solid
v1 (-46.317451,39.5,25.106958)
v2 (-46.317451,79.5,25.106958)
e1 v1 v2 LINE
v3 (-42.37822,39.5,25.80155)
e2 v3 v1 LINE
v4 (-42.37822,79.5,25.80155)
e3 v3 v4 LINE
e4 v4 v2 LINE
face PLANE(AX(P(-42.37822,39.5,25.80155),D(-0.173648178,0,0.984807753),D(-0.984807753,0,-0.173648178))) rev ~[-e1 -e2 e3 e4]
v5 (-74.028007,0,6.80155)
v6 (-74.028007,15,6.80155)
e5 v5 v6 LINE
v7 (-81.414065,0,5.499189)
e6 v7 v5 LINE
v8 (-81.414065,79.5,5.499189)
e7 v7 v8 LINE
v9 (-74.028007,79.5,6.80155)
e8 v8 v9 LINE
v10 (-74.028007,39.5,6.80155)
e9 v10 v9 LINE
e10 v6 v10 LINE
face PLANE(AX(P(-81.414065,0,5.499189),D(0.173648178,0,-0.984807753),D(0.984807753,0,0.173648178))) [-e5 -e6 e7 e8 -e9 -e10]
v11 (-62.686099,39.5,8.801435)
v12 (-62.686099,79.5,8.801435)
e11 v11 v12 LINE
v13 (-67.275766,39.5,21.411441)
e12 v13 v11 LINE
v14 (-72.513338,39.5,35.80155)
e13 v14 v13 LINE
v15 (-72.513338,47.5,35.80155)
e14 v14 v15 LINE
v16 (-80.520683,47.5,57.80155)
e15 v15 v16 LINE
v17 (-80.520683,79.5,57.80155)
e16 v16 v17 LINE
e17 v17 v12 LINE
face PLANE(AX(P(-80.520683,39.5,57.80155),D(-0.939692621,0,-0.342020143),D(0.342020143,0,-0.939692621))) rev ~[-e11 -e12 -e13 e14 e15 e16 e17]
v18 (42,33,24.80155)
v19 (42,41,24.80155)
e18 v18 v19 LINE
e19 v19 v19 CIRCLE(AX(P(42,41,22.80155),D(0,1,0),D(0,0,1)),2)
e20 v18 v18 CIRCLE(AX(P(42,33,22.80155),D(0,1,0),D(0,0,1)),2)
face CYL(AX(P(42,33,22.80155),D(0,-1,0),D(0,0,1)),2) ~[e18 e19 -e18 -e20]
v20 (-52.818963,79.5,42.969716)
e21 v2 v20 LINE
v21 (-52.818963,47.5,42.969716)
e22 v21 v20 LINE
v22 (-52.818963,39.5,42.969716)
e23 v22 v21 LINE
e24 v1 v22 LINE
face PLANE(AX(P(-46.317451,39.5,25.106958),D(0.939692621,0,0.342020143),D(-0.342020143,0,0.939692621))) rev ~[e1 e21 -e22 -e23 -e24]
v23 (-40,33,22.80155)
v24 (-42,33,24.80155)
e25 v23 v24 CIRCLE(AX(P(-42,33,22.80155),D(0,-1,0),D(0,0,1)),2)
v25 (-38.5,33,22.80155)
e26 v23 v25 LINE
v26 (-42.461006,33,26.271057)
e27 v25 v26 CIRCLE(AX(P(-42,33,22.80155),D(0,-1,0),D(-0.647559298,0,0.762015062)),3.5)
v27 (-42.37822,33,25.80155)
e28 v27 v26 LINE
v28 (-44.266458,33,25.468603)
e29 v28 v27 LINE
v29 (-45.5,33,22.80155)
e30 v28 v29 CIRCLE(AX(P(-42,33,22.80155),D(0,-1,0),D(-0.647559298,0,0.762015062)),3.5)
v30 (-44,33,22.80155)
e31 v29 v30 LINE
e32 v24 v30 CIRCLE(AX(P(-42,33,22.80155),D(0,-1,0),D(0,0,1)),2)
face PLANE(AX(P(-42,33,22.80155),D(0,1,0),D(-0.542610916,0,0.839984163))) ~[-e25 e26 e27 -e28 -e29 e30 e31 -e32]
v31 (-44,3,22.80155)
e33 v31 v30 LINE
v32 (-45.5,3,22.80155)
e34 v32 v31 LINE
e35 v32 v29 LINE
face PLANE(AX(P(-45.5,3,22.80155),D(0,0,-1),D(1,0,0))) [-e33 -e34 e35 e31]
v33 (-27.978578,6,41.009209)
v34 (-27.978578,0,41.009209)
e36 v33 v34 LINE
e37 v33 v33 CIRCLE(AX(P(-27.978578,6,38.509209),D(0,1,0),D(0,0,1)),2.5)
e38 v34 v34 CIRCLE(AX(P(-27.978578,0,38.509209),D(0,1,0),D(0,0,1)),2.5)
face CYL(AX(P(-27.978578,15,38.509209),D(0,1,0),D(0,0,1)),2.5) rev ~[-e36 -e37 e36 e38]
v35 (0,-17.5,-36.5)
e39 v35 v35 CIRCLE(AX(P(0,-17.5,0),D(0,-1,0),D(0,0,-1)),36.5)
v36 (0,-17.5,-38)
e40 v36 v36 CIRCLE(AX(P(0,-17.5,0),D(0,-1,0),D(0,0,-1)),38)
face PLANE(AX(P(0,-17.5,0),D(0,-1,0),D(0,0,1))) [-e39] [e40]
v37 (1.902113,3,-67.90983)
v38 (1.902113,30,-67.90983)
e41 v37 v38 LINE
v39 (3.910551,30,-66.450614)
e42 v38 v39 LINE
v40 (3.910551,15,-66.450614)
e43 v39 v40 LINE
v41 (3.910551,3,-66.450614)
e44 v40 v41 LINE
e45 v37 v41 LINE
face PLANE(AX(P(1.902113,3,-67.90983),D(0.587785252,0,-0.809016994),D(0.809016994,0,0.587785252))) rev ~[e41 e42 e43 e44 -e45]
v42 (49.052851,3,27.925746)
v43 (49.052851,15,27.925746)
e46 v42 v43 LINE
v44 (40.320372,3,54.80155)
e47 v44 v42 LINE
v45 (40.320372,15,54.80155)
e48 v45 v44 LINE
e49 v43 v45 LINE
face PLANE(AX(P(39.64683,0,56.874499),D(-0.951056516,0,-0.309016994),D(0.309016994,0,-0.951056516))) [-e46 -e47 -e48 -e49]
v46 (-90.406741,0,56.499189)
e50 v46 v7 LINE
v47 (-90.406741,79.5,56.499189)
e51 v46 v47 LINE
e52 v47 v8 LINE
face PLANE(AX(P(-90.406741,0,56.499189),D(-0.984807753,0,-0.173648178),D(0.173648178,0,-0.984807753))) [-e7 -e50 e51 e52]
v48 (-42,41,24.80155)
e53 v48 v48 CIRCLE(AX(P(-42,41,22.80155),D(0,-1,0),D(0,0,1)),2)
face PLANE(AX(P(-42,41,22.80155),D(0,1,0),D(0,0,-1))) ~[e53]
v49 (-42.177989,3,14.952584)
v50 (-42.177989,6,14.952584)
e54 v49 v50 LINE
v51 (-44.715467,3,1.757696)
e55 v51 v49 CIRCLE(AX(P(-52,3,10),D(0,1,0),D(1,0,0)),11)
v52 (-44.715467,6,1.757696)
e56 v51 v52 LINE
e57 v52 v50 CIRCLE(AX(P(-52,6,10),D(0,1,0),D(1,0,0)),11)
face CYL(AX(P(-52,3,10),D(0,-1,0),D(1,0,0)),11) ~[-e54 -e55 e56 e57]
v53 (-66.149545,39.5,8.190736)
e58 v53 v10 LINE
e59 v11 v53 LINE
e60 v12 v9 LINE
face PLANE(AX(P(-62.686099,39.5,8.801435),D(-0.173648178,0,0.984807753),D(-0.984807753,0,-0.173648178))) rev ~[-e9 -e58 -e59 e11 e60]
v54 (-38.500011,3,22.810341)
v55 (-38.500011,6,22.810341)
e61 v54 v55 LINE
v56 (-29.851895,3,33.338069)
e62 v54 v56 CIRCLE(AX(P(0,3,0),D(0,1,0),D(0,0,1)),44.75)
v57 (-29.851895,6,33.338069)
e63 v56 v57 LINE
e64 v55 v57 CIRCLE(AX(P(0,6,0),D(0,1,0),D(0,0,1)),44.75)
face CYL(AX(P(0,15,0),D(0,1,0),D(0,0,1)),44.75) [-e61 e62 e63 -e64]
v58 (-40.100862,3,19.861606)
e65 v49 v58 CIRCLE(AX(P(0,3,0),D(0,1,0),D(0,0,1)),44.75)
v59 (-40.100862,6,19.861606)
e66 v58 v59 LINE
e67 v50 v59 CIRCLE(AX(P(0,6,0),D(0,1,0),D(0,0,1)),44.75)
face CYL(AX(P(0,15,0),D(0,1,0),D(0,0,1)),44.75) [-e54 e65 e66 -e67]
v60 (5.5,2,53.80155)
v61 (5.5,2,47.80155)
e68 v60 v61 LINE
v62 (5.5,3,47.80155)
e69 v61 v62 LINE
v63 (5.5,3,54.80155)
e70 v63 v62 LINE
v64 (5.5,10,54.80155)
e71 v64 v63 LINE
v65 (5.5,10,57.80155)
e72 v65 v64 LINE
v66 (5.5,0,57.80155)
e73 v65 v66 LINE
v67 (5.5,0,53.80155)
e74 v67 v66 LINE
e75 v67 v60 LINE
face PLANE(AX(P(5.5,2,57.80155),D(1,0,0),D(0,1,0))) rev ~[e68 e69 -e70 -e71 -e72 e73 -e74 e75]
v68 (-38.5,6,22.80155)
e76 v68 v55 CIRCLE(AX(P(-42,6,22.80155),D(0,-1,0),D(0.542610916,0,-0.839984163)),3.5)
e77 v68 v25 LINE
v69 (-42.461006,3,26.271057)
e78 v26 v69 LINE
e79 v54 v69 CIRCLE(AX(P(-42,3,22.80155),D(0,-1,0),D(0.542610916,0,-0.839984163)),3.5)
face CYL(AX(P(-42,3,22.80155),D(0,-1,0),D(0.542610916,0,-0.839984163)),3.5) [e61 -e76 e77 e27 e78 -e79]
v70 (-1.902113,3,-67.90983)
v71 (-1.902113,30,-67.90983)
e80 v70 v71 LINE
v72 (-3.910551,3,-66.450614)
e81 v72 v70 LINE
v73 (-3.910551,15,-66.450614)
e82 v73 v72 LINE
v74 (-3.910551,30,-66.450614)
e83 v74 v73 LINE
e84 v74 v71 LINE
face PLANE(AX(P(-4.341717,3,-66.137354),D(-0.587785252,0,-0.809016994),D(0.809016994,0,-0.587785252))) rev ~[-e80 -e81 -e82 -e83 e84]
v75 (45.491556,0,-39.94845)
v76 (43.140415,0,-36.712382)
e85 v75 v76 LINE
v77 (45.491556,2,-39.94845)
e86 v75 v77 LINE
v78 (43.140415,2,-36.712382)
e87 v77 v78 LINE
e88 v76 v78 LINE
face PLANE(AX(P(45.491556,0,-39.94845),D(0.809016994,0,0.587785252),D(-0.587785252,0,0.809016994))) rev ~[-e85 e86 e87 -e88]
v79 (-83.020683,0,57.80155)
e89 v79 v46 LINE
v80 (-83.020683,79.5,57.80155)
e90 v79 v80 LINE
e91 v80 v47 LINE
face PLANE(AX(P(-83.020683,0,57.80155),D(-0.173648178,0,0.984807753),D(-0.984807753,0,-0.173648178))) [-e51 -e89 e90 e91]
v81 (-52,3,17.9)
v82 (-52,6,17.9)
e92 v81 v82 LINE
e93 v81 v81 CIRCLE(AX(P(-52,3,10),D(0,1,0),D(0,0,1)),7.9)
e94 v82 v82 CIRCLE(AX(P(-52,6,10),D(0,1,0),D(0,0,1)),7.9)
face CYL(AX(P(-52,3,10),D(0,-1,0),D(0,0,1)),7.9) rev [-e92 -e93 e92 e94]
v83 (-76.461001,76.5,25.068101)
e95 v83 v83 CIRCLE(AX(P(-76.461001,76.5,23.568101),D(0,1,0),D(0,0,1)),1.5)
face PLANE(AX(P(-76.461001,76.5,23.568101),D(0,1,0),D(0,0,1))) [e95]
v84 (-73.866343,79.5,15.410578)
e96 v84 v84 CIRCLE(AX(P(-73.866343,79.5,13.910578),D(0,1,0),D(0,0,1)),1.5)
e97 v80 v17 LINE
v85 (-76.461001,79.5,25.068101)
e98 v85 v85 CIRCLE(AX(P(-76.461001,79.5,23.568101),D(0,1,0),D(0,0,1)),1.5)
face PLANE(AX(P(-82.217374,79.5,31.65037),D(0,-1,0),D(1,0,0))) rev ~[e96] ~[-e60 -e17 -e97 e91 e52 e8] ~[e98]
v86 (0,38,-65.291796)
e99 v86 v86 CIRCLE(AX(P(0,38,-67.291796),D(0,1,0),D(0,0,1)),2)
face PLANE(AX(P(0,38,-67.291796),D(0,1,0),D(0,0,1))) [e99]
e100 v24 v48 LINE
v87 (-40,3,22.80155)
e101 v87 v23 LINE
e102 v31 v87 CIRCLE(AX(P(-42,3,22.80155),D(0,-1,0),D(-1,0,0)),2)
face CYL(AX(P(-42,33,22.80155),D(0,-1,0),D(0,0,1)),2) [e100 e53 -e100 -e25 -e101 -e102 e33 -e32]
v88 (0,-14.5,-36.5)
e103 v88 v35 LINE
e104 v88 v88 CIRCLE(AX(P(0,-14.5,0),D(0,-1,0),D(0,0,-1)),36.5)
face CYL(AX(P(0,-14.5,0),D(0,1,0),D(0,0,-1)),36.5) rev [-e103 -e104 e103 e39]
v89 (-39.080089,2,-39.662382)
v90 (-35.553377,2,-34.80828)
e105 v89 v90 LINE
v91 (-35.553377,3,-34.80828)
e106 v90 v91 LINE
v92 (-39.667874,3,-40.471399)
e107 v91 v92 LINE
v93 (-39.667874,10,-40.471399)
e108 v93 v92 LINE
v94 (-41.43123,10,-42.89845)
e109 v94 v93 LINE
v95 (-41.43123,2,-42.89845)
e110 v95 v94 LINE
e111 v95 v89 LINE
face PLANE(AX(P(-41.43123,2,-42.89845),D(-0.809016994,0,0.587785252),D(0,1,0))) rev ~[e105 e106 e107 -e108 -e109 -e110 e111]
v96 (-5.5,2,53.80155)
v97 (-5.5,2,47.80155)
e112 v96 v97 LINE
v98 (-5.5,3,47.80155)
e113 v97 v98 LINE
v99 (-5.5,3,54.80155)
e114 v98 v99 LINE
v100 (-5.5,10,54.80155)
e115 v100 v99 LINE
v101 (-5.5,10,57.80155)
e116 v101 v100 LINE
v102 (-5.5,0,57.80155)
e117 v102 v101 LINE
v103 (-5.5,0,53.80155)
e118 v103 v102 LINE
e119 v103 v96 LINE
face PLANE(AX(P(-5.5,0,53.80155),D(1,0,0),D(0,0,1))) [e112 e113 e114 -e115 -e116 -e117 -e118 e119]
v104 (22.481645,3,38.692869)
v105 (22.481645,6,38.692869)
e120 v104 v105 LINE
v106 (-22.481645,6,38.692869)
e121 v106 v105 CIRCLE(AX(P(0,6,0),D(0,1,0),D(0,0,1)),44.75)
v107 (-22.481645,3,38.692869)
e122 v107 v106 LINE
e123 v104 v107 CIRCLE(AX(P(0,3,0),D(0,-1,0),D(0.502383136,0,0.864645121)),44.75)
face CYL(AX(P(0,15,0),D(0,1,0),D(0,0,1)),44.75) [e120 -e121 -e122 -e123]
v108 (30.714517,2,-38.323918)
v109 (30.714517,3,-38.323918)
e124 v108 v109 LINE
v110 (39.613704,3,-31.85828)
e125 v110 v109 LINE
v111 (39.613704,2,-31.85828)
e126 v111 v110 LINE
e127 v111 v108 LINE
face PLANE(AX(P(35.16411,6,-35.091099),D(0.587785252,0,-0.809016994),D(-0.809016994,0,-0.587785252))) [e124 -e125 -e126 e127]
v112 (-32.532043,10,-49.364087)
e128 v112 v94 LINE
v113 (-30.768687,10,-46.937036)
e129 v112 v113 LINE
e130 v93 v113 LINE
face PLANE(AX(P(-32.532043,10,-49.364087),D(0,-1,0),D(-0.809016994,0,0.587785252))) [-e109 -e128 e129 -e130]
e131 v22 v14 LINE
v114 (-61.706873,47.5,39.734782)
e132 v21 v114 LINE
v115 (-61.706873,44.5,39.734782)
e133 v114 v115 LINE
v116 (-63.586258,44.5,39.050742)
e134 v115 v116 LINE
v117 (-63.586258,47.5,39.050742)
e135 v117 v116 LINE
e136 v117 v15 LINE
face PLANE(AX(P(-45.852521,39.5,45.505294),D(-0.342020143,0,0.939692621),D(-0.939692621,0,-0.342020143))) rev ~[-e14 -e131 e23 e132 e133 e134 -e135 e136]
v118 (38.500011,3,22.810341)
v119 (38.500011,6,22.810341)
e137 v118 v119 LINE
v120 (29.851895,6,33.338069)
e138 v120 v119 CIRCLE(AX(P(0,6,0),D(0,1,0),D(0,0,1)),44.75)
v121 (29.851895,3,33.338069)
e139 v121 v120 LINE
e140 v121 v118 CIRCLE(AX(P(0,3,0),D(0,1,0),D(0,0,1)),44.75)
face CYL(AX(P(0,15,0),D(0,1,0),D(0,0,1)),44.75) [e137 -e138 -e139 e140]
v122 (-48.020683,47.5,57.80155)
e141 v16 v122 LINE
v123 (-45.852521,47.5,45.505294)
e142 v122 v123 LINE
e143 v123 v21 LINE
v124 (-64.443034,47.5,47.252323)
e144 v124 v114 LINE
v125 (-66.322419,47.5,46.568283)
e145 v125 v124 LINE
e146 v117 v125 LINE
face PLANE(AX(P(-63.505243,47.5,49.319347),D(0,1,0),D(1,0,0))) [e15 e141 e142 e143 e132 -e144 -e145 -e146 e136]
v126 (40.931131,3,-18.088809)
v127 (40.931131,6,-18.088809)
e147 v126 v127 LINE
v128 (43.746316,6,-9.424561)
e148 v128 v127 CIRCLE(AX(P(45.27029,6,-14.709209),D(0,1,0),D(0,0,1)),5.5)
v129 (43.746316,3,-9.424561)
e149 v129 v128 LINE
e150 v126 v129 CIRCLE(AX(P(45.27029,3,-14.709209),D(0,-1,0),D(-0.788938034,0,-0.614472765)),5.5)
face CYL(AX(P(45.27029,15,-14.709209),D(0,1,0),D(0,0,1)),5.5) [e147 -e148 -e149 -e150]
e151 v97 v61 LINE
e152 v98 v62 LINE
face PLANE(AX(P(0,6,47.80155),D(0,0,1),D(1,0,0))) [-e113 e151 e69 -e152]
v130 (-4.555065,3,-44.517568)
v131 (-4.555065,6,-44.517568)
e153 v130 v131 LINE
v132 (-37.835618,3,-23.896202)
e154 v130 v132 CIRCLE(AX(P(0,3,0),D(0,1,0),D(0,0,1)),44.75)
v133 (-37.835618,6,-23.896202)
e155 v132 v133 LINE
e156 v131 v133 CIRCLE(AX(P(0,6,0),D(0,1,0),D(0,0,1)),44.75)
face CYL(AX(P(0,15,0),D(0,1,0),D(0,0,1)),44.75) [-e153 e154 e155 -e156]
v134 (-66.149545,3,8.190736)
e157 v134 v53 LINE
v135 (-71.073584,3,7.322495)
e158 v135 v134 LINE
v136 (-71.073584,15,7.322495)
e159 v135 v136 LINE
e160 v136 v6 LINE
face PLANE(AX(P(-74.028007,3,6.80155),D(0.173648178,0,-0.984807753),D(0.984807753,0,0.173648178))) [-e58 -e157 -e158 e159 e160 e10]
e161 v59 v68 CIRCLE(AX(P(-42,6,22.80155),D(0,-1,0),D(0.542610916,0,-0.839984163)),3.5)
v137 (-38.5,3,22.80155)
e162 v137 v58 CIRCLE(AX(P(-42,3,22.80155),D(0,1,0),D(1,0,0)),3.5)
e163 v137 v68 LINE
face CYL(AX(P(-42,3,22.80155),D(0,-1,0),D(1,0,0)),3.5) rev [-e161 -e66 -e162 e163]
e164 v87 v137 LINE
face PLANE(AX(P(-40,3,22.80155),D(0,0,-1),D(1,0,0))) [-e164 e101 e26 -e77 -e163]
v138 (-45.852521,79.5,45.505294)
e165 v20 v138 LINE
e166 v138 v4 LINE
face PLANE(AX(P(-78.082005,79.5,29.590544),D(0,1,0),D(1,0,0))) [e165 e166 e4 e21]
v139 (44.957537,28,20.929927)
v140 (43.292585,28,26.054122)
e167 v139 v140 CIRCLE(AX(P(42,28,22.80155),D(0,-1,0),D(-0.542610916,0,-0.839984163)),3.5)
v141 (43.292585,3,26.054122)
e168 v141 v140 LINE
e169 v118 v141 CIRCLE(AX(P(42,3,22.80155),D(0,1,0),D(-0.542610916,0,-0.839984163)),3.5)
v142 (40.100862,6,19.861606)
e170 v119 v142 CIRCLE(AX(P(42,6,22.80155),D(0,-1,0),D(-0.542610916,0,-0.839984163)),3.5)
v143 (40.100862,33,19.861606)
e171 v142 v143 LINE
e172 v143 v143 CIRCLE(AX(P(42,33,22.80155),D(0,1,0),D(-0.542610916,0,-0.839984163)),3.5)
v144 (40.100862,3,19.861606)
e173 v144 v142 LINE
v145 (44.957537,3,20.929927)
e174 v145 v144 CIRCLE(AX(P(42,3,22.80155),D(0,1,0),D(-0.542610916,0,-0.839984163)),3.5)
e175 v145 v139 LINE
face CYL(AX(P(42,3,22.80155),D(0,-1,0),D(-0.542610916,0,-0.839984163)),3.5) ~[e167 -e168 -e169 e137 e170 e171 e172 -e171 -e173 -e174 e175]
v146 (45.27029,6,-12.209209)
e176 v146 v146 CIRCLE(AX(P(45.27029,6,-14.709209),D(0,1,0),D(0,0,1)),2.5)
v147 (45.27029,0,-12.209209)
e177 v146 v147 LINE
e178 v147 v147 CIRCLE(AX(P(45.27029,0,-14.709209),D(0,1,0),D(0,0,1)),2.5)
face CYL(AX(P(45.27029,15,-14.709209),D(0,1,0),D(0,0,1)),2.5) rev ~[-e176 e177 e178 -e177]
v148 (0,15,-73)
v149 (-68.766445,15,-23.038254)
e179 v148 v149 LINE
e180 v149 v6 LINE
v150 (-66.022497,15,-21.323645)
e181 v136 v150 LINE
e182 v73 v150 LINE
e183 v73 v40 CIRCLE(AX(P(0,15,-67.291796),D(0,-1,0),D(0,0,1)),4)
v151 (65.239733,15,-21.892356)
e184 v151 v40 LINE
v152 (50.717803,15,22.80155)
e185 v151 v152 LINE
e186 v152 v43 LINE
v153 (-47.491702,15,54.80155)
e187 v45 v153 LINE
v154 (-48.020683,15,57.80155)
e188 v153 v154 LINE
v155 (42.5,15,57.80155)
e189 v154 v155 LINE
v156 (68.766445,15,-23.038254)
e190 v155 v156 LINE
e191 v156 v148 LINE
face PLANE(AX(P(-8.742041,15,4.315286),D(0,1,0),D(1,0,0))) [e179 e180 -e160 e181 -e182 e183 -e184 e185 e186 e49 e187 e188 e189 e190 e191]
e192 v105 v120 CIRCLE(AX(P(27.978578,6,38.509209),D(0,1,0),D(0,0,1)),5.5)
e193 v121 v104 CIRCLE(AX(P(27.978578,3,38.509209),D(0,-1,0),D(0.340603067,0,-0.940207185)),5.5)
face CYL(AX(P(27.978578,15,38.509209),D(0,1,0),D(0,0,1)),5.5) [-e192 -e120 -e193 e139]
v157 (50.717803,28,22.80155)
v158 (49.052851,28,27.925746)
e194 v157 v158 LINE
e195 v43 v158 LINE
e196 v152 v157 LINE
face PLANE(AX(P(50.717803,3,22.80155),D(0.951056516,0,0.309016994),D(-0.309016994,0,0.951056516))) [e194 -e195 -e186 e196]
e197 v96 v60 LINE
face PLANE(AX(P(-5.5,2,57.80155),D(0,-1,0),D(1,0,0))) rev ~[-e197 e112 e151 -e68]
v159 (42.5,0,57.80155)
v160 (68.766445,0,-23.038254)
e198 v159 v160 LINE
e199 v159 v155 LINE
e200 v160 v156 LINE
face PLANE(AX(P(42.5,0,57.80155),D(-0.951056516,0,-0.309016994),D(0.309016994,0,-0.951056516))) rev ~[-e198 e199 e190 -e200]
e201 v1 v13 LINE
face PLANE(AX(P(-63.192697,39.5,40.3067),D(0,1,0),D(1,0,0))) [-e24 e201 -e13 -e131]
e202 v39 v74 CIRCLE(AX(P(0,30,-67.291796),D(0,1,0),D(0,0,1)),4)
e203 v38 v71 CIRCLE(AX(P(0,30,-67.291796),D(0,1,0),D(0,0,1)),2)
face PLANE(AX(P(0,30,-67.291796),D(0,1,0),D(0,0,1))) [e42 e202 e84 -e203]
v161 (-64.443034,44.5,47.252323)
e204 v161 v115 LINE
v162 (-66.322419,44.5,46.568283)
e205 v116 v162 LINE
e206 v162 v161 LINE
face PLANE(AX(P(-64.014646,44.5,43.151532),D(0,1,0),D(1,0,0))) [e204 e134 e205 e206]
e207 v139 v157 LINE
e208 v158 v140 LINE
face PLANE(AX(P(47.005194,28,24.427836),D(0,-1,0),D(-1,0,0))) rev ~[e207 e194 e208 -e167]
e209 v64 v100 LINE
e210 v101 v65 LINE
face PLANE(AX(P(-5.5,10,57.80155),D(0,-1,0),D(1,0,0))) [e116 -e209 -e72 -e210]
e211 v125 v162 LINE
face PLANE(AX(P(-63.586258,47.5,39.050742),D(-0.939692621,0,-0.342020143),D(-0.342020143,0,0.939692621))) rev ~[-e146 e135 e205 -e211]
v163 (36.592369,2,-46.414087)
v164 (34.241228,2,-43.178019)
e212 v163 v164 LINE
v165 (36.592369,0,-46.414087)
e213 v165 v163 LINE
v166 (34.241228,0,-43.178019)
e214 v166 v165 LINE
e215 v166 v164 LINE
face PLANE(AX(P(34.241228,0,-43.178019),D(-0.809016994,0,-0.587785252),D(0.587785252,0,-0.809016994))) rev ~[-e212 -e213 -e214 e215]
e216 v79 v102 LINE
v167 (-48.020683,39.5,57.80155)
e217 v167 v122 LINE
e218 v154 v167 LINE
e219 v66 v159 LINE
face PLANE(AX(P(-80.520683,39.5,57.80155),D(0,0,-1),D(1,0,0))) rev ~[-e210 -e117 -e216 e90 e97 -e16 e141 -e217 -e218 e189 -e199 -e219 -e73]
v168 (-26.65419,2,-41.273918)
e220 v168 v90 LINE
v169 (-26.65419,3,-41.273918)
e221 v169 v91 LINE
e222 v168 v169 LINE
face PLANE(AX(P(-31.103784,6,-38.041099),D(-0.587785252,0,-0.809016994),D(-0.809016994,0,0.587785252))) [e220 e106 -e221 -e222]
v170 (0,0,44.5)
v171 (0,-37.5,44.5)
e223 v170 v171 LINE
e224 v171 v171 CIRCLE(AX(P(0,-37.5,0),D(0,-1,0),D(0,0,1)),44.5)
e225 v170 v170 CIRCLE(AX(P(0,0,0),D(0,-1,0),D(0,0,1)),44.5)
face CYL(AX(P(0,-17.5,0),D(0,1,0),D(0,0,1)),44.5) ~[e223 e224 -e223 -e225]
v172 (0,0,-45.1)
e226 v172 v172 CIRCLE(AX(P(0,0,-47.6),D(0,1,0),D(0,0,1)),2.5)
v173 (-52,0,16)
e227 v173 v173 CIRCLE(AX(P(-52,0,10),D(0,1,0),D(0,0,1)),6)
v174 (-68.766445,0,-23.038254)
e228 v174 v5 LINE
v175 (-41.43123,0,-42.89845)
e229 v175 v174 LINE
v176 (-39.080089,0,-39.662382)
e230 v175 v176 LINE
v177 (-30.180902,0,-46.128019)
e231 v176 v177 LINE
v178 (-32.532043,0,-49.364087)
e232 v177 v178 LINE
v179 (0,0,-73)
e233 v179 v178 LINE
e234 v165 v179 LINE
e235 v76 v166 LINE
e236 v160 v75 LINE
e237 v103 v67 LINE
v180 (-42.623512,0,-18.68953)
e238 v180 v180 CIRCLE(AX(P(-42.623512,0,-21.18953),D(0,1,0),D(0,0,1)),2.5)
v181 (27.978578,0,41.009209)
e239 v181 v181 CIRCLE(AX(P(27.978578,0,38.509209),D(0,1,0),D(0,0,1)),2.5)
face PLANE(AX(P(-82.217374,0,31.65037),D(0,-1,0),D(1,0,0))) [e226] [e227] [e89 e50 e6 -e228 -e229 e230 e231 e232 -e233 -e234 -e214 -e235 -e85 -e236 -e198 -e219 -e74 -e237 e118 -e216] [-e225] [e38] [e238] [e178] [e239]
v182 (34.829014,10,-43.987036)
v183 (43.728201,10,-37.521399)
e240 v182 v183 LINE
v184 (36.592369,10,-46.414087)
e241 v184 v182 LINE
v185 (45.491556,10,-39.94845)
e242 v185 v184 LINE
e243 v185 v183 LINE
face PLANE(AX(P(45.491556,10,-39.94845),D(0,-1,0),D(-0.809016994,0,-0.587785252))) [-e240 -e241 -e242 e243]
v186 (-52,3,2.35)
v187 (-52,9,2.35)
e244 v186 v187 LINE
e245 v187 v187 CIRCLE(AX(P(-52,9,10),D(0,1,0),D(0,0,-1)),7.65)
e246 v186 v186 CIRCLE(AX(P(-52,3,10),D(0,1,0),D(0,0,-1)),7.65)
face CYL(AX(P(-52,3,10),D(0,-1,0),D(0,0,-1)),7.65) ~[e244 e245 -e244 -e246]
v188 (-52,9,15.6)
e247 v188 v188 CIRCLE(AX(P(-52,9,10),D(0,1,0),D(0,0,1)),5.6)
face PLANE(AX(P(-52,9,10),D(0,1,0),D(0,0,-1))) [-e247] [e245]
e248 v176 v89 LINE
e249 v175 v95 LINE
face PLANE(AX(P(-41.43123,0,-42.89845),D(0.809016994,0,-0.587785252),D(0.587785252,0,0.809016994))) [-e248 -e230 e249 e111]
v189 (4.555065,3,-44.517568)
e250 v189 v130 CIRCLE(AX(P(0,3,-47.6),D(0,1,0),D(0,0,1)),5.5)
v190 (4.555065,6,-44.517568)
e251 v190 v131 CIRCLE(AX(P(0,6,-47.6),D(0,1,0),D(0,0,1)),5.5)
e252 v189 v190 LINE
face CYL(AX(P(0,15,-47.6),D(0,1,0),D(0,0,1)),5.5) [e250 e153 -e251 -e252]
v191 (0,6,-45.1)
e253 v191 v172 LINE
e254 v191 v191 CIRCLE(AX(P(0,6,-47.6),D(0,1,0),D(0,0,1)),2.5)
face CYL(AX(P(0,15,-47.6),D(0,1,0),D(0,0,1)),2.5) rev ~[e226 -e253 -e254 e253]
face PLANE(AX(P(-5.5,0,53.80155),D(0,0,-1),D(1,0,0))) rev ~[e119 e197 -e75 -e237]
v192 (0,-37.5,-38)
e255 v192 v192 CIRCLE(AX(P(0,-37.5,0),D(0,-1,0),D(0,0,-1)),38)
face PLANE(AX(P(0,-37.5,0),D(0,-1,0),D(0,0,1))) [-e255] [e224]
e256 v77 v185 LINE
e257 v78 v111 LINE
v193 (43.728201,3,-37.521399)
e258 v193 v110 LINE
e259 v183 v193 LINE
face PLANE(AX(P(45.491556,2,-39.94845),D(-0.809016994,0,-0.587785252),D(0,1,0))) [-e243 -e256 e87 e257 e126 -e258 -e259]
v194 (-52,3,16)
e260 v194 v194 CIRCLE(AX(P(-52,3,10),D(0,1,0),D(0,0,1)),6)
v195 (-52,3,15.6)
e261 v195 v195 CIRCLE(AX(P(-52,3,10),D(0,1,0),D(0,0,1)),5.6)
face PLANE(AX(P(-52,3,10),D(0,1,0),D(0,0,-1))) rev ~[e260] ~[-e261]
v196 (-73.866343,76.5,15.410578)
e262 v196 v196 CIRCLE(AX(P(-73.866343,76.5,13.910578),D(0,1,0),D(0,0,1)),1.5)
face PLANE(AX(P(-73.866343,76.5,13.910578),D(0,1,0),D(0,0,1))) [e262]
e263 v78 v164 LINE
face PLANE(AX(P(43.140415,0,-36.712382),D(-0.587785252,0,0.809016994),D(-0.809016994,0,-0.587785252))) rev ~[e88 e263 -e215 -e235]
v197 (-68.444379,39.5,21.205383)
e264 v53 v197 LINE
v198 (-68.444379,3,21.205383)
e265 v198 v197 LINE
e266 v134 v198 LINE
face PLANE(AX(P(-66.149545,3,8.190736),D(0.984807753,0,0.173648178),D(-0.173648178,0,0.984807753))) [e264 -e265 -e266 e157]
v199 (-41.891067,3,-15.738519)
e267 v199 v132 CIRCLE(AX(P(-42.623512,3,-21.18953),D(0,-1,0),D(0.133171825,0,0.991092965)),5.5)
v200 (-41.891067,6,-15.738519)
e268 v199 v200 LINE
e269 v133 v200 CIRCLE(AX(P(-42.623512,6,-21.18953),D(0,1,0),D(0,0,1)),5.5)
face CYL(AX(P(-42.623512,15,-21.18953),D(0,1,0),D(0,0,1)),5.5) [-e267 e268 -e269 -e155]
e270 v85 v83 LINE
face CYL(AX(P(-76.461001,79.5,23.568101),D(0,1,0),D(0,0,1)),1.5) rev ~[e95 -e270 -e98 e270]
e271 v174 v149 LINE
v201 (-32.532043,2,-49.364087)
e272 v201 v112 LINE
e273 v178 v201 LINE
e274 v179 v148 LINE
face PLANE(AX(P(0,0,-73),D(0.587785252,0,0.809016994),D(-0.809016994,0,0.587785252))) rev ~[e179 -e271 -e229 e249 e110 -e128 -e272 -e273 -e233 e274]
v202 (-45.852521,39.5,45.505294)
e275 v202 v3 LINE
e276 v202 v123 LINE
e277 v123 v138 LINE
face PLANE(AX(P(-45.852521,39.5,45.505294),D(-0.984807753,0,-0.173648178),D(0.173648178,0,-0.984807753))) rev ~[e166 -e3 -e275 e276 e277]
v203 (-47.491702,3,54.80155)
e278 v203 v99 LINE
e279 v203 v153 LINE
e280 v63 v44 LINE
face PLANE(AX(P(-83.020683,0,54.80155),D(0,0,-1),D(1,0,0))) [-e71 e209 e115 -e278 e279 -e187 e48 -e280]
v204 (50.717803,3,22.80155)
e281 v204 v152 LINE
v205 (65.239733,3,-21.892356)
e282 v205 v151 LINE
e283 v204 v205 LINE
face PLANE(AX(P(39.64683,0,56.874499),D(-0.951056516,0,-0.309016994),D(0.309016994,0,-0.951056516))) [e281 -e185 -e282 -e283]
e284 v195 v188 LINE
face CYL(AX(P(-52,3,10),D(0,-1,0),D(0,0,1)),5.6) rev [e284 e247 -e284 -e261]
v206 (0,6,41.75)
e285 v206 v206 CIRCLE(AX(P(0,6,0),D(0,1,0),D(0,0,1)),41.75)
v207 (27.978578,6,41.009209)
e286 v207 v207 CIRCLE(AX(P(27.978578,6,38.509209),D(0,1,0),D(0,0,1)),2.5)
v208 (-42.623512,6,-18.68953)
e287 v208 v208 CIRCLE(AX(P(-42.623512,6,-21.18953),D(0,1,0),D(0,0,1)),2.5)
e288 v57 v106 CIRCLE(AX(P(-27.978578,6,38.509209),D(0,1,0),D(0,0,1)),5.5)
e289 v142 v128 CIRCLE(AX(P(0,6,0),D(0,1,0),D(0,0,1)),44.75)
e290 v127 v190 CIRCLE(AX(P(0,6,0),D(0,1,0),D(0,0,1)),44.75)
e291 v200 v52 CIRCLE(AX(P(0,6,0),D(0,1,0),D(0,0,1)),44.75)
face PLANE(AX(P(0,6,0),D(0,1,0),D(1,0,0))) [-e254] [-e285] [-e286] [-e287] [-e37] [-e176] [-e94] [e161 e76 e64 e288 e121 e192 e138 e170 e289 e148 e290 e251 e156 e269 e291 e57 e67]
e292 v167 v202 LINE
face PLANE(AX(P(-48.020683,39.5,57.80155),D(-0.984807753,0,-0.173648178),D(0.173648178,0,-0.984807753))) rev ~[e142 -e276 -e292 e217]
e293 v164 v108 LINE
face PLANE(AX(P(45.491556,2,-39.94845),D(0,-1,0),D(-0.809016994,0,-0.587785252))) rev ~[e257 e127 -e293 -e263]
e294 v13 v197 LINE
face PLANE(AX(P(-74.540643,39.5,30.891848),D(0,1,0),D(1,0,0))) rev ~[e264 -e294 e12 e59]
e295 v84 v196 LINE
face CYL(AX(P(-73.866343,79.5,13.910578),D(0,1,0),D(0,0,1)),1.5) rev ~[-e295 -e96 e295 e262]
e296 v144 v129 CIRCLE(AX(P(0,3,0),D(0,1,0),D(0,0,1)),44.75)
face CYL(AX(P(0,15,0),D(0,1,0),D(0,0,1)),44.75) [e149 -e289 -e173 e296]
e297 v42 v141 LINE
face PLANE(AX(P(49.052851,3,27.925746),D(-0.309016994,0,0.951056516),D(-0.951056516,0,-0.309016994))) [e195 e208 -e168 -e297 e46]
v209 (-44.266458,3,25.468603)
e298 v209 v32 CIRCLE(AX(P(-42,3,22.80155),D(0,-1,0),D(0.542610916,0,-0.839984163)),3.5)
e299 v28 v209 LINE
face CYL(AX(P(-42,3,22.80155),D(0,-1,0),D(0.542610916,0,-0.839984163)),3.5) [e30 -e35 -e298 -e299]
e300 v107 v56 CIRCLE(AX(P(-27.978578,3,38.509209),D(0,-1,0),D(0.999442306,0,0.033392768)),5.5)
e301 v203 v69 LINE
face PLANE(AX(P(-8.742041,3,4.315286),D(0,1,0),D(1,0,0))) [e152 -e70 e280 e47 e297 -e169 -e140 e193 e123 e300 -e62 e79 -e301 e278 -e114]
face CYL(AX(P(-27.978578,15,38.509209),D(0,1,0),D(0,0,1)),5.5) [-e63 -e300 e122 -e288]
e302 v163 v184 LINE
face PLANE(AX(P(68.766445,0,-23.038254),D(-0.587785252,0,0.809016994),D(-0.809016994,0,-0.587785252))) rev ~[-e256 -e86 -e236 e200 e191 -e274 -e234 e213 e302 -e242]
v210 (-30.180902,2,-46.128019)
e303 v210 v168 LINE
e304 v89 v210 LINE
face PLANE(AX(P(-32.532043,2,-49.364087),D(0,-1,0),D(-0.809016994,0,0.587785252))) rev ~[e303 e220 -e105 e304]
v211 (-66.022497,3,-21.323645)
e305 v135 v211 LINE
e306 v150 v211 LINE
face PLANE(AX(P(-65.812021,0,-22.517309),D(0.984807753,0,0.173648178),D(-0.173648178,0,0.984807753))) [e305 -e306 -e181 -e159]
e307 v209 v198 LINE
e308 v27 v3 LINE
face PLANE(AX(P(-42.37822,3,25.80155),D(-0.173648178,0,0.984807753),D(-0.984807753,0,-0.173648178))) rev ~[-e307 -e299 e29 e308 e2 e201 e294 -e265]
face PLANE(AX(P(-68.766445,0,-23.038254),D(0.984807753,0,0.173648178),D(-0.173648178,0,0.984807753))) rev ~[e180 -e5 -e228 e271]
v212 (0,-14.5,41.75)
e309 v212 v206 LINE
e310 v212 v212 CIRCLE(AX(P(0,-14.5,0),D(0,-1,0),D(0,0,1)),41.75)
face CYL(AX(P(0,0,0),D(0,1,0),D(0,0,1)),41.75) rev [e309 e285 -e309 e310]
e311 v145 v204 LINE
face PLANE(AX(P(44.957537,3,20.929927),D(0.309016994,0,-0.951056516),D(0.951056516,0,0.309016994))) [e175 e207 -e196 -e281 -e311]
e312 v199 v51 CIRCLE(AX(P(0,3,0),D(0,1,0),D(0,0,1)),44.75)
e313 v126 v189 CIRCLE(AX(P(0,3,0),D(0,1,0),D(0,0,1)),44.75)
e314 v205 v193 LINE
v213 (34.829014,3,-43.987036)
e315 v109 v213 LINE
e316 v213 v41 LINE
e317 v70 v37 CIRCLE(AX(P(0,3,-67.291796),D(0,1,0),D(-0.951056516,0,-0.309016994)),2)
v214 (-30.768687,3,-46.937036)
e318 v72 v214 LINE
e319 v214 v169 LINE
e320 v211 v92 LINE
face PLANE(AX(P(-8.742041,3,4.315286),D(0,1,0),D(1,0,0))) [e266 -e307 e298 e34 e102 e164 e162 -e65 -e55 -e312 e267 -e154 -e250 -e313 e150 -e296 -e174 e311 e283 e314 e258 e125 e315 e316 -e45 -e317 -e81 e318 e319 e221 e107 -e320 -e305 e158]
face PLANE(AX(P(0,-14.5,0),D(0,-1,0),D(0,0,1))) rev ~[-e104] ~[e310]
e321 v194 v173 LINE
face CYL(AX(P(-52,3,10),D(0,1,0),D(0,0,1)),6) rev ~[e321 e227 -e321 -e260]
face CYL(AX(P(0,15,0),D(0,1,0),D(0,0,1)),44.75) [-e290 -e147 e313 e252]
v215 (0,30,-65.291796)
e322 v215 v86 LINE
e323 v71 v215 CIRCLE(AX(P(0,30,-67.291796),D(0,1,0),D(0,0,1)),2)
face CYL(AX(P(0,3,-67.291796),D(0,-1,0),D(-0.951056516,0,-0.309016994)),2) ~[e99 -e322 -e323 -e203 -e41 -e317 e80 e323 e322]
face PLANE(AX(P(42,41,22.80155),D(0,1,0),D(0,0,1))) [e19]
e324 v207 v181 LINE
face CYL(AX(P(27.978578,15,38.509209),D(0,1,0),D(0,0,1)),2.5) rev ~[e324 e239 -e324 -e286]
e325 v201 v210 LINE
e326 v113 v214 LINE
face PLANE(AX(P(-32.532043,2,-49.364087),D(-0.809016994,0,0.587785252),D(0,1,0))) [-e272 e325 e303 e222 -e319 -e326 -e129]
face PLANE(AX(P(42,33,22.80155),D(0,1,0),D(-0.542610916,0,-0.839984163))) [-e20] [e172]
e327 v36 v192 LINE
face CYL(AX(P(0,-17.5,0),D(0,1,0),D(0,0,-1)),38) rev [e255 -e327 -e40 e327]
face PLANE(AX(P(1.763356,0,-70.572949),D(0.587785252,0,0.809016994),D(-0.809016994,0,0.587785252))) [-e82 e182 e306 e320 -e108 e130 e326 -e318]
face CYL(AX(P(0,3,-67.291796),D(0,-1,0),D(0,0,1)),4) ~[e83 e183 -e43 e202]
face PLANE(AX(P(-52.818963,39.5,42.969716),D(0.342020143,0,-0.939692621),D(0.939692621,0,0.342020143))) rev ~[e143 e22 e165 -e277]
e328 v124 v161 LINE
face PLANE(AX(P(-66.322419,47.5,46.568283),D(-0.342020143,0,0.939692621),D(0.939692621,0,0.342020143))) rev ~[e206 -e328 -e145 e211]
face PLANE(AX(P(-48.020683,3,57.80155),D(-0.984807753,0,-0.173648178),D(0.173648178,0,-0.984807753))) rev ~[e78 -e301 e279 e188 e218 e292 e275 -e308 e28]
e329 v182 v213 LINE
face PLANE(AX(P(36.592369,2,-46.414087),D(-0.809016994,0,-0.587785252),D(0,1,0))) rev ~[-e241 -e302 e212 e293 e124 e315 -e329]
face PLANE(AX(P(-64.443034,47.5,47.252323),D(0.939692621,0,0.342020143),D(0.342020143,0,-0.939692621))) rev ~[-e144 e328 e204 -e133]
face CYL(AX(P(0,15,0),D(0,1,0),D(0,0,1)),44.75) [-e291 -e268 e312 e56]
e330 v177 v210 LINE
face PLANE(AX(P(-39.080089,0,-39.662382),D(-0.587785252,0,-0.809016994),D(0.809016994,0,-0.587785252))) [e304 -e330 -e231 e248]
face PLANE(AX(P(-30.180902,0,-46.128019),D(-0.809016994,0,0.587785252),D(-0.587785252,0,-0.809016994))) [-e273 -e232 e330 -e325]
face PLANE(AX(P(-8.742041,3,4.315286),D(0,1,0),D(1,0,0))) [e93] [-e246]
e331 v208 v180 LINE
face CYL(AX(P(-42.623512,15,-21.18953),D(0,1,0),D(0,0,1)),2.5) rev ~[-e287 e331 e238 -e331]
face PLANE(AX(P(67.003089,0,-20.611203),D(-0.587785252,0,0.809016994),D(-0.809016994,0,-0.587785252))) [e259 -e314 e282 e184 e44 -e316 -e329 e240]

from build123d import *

# Parameters (mm, degrees)
BOSS_EXTRUDE1_DEPTH  = 15
CUT_EXTRUDE2_REACH   = 113.564
SKETCH3_R            = 2.5
SKETCH2_R            = 41.75
CUT_EXTRUDE1_DEPTH   = 30
SHELL1_T             = -3
CUT_EXTRUDE3_DEPTH   = 9
SKETCH6_R            = 6
CUT_EXTRUDE5_DEPTH   = 27
SKETCH7_R            = 7.65
SKETCH7_R_2          = 5.6
BOSS_EXTRUDE2_DEPTH  = 6
SKETCH8_R            = 11
SKETCH8_R_2          = 7.9
BOSS_EXTRUDE3_DEPTH  = 3
SKETCH11_R           = 44.5
SKETCH11_R_2         = 41.75
BOSS_EXTRUDE6_DEPTH  = 14.5
SKETCH13_R           = 44.5
SKETCH13_R_2         = 36.5
BOSS_EXTRUDE7_DEPTH  = 3
SKETCH14_R           = 44.5
SKETCH14_R_2         = 38
BOSS_EXTRUDE8_DEPTH  = 20
BOSS_EXTRUDE9_DEPTH  = 36.5
SKETCH17_W           = 11
SKETCH17_H           = 8
CUT_EXTRUDE6_DEPTH   = 10
SKETCH18_W           = 11
SKETCH18_H           = 4
CUT_EXTRUDE7_DEPTH   = 10
SKETCH19_W           = 11
SKETCH19_H           = 8
CUT_EXTRUDE8_DEPTH   = 10
CUT_EXTRUDE9_DEPTH   = 10
SKETCH22_R           = 3.5
BOSS_EXTRUDE12_DEPTH = 30
SKETCH23_R           = 2
BOSS_EXTRUDE13_DEPTH = 8
BOSS_EXTRUDE14_DEPTH = 25
BOSS_EXTRUDE15_START = -12
SKETCH26_R           = 4
BOSS_EXTRUDE15_DEPTH = 27
SKETCH27_R           = 2
BOSS_EXTRUDE16_DEPTH = 8
BOSS_EXTRUDE17_DEPTH = 40
BOSS_EXTRUDE18_DEPTH = 36.5
BOSS_EXTRUDE19_DEPTH = 8
CUT_EXTRUDE10_DEPTH  = 3
BOSS_EXTRUDE20_DEPTH = 79.5
BOSS_EXTRUDE21_REACH = 141.396
CUT_EXTRUDE13_START  = -30
CUT_EXTRUDE13_DEPTH  = 30
SKETCH35_W           = 11
SKETCH35_H           = 8
CUT_EXTRUDE14_DEPTH  = 10
CUT_EXTRUDE15_DEPTH  = 10
CUT_EXTRUDE17_START  = -27
CUT_EXTRUDE17_DEPTH  = 27
SKETCH39_R           = 1.5
CUT_EXTRUDE18_DEPTH  = 3


with BuildPart() as part:
    # Sketch1 → Boss-Extrude1 (new body)
    with BuildSketch(Plane(origin=(0, 0, 0), x_dir=(1, 0, 0), z_dir=(0, 1, 0))):
        Polygon((-42.5, -57.80155033), (42.5, -57.80155033), (68.766444522, 23.038253555), (0, 73), (-68.766444522, 23.038253555), (-83.020683062, -57.80155033), align=None)
    extrude(amount=BOSS_EXTRUDE1_DEPTH)

    # Sketch3 → Cut-Extrude2 (cut, up to next)
    with BuildSketch(Plane(origin=(0, 15, 0), x_dir=(1, 0, 0), z_dir=(0, 1, 0)), mode=Mode.PRIVATE) as cut_extrude2_sk1:
        with Locations(Location((0, 47.6, 0), (0, 0, 270))):
            Circle(SKETCH3_R)
    cut_extrude2_tool1 = extrude(cut_extrude2_sk1.sketch, amount=-CUT_EXTRUDE2_REACH, mode=Mode.PRIVATE) & part.part
    # Sketch3 → Cut-Extrude2 (cut, up to next)
    with BuildSketch(Plane(origin=(0, 15, 0), x_dir=(1, 0, 0), z_dir=(0, 1, 0)), mode=Mode.PRIVATE) as cut_extrude2_sk2:
        with Locations(Location((45.270290176, 14.709208932, 0), (0, 0, 270))):
            Circle(SKETCH3_R)
    cut_extrude2_tool2 = extrude(cut_extrude2_sk2.sketch, amount=-CUT_EXTRUDE2_REACH, mode=Mode.PRIVATE) & part.part
    # Sketch3 → Cut-Extrude2 (cut, up to next)
    with BuildSketch(Plane(origin=(0, 15, 0), x_dir=(1, 0, 0), z_dir=(0, 1, 0)), mode=Mode.PRIVATE) as cut_extrude2_sk3:
        with Locations(Location((27.978578009, -38.509208932, 0), (0, 0, 270))):
            Circle(SKETCH3_R)
    cut_extrude2_tool3 = extrude(cut_extrude2_sk3.sketch, amount=-CUT_EXTRUDE2_REACH, mode=Mode.PRIVATE) & part.part
    # Sketch3 → Cut-Extrude2 (cut, up to next)
    with BuildSketch(Plane(origin=(0, 15, 0), x_dir=(1, 0, 0), z_dir=(0, 1, 0)), mode=Mode.PRIVATE) as cut_extrude2_sk4:
        with Locations(Location((-27.978578009, -38.509208932, 0), (0, 0, 270))):
            Circle(SKETCH3_R)
    cut_extrude2_tool4 = extrude(cut_extrude2_sk4.sketch, amount=-CUT_EXTRUDE2_REACH, mode=Mode.PRIVATE) & part.part
    # Sketch3 → Cut-Extrude2 (cut, up to next)
    with BuildSketch(Plane(origin=(0, 15, 0), x_dir=(1, 0, 0), z_dir=(0, 1, 0)), mode=Mode.PRIVATE) as cut_extrude2_sk5:
        with Locations(Location((-42.623512289, 21.189530438, 0), (0, 0, 270))):
            Circle(SKETCH3_R)
    cut_extrude2_tool5 = extrude(cut_extrude2_sk5.sketch, amount=-CUT_EXTRUDE2_REACH, mode=Mode.PRIVATE) & part.part
    add(cut_extrude2_tool1.solids().sort_by_distance((0, 15, -47.6))[0], mode=Mode.SUBTRACT)
    add(cut_extrude2_tool2.solids().sort_by_distance((45.27029, 15, -14.709209))[0], mode=Mode.SUBTRACT)
    add(cut_extrude2_tool3.solids().sort_by_distance((27.978578, 15, 38.509209))[0], mode=Mode.SUBTRACT)
    add(cut_extrude2_tool4.solids().sort_by_distance((-27.978578, 15, 38.509209))[0], mode=Mode.SUBTRACT)
    add(cut_extrude2_tool5.solids().sort_by_distance((-42.623512, 15, -21.18953))[0], mode=Mode.SUBTRACT)

    # Sketch2 → Cut-Extrude1 (cut)
    with BuildSketch(Plane(origin=(0, 15, 0), x_dir=(1, 0, 0), z_dir=(0, 1, 0))):
        with Locations(Location((0, 0, 0), (0, 0, 270))):
            Circle(SKETCH2_R)
    extrude(amount=-CUT_EXTRUDE1_DEPTH, mode=Mode.SUBTRACT)

    # Shell1
    shell1_openings = [part.faces().sort_by_distance(p)[0] for p in [
        (-20.260341531, 15, 55.797844322),
    ]]
    offset(amount=SHELL1_T, openings=shell1_openings, kind=Kind.INTERSECTION)

    # Sketch4 → Cut-Extrude3 (cut)
    with BuildSketch(Plane(origin=(0, 15, 0), x_dir=(1, 0, 0), z_dir=(0, 1, 0))):
        Polygon((-57.284049758, 17.655613272), (-34.493230934, -49.024484255), (35.966060659, -47.954410823), (56.721478863, 19.387028456), (-0.91025883, 59.936253349), align=None)
    extrude(amount=-CUT_EXTRUDE3_DEPTH, mode=Mode.SUBTRACT)

    # Sketch6 → Cut-Extrude5 (cut)
    with BuildSketch(Plane(origin=(0, 3, 0), x_dir=(1, 0, 0), z_dir=(0, 1, 0))):
        with Locations(Location((-52, -10, 0), (0, 0, 270))):
            Circle(SKETCH6_R)
    extrude(amount=-CUT_EXTRUDE5_DEPTH, mode=Mode.SUBTRACT)

    # Sketch7 → Boss-Extrude2 (add)
    with BuildSketch(Plane(origin=(0, 3, 0), x_dir=(1, 0, 0), z_dir=(0, 1, 0))):
        with Locations(Location((-52, -10, 0), (0, 0, 90))):
            Circle(SKETCH7_R)
        with Locations(Location((-52, -10, 0), (0, 0, 270))):
            Circle(SKETCH7_R_2, mode=Mode.SUBTRACT)
    extrude(amount=BOSS_EXTRUDE2_DEPTH)

    # Sketch8 → Boss-Extrude3 (add)
    with BuildSketch(Plane(origin=(0, 3, 0), x_dir=(1, 0, 0), z_dir=(0, 1, 0))):
        with Locations((-52, -10)):
            Circle(SKETCH8_R)
        with Locations(Location((-52, -10, 0), (0, 0, 270))):
            Circle(SKETCH8_R_2, mode=Mode.SUBTRACT)
    extrude(amount=BOSS_EXTRUDE3_DEPTH)

    # Sketch11 → Boss-Extrude6 (add)
    with BuildSketch(Plane.XZ):
        with Locations(Location((0, 0, 0), (0, 0, 90))):
            Circle(SKETCH11_R)
        with Locations(Location((0, 0, 0), (0, 0, 90))):
            Circle(SKETCH11_R_2, mode=Mode.SUBTRACT)
    extrude(amount=BOSS_EXTRUDE6_DEPTH)

    # Sketch13 → Boss-Extrude7 (add)
    with BuildSketch(Plane.XZ.offset(14.5)):
        with Locations(Location((0, 0, 0), (0, 0, 90))):
            Circle(SKETCH13_R)
        with Locations(Location((0, 0, 0), (0, 0, 270))):
            Circle(SKETCH13_R_2, mode=Mode.SUBTRACT)
    extrude(amount=BOSS_EXTRUDE7_DEPTH)

    # Sketch14 → Boss-Extrude8 (add)
    with BuildSketch(Plane.XZ.offset(17.5)):
        with Locations(Location((0, 0, 0), (0, 0, 90))):
            Circle(SKETCH14_R)
        with Locations(Location((0, 0, 0), (0, 0, 270))):
            Circle(SKETCH14_R_2, mode=Mode.SUBTRACT)
    extrude(amount=BOSS_EXTRUDE8_DEPTH)

    # Sketch15 → Boss-Extrude9 (add)
    with BuildSketch(Plane(origin=(0, 3, 0), x_dir=(1, 0, 0), z_dir=(0, 1, 0))):
        Polygon((-83.020683062, -57.80155033), (-48.020683062, -57.80155033), (-42.378219679, -25.80155033), (-76.322840543, -19.816197822), align=None)
    extrude(amount=BOSS_EXTRUDE9_DEPTH)

    # Sketch17 → Cut-Extrude6 (cut)
    with BuildSketch(Plane.XY.offset(57.80155033)):
        with Locations((0, 6)):
            Rectangle(SKETCH17_W, SKETCH17_H)
    extrude(amount=-CUT_EXTRUDE6_DEPTH, mode=Mode.SUBTRACT)

    # Sketch18 → Cut-Extrude7 (cut)
    with BuildSketch(Plane.XZ):
        with Locations((0, 55.80155033)):
            Rectangle(SKETCH18_W, SKETCH18_H)
    extrude(amount=-CUT_EXTRUDE7_DEPTH, mode=Mode.SUBTRACT)

    # Sketch19 → Cut-Extrude8 (cut)
    with BuildSketch(Plane(origin=(34.713562845, 0, -47.779120295), x_dir=(-0.8090169943749455, 0, -0.587785252292476), z_dir=(0.587785252292476, 0, -0.8090169943749455))):
        with Locations((-7.822332594, 6)):
            Rectangle(SKETCH19_W, SKETCH19_H)
    extrude(amount=-CUT_EXTRUDE8_DEPTH, mode=Mode.SUBTRACT)

    # Sketch20 → Cut-Extrude9 (cut)
    with BuildSketch(Plane.XZ):
        Polygon((36.59236938, -46.414087445), (45.491556318, -39.94844967), (43.140415309, -36.712381693), (34.24122837, -43.178019468), align=None)
    extrude(amount=-CUT_EXTRUDE9_DEPTH, mode=Mode.SUBTRACT)

    # Sketch22 → Boss-Extrude12 (add)
    with BuildSketch(Plane(origin=(0, 3, 0), x_dir=(1, 0, 0), z_dir=(0, 1, 0))):
        with Locations(Location((42, -22.80155033, 0), (0, 0, 122.8615527))):
            Circle(SKETCH22_R)
    boss_extrude12 = extrude(amount=BOSS_EXTRUDE12_DEPTH)

    # Sketch23 → Boss-Extrude13 (add)
    with BuildSketch(Plane(origin=(0, 33, 0), x_dir=(1, 0, 0), z_dir=(0, 1, 0))):
        with Locations(Location((42, -22.80155033, 0), (0, 0, 270))):
            Circle(SKETCH23_R)
    boss_extrude13 = extrude(amount=BOSS_EXTRUDE13_DEPTH)

    # Sketch24 → Boss-Extrude14 (add)
    with BuildSketch(Plane(origin=(0, 3, 0), x_dir=(1, 0, 0), z_dir=(0, 1, 0))):
        Polygon((43.292584694, -26.05412236), (44.957536855, -20.929926503), (50.717802695, -22.80155033), (49.052850534, -27.925746187), align=None)
    extrude(amount=BOSS_EXTRUDE14_DEPTH)

    # Mirror2: Boss-Extrude12, Boss-Extrude13 across plane
    add(boss_extrude12.mirror(Plane.ZY))
    add(boss_extrude13.mirror(Plane.ZY))

    # Sketch26 → Boss-Extrude15 (add)
    with BuildSketch(Plane(origin=(0, 15, 0), x_dir=(1, 0, 0), z_dir=(0, 1, 0)).offset(BOSS_EXTRUDE15_START)):
        with Locations(Location((0, 67.291796068, 0), (0, 0, 270))):
            Circle(SKETCH26_R)
    extrude(amount=BOSS_EXTRUDE15_DEPTH)

    # Sketch27 → Boss-Extrude16 (add)
    with BuildSketch(Plane(origin=(0, 30, 0), x_dir=(1, 0, 0), z_dir=(0, 1, 0))):
        with Locations(Location((0, 67.291796068, 0), (0, 0, 270))):
            Circle(SKETCH27_R)
    extrude(amount=BOSS_EXTRUDE16_DEPTH)

    # Sketch28 → Boss-Extrude17 (add)
    with BuildSketch(Plane(origin=(0, 39.5, 0), x_dir=(1, 0, 0), z_dir=(0, 1, 0))):
        Polygon((-80.520683062, -57.80155033), (-62.686099478, -8.801434647), (-74.028007046, -6.80155033), (-83.020683062, -57.80155033), align=None)
    extrude(amount=BOSS_EXTRUDE17_DEPTH)

    # Sketch29 → Boss-Extrude18 (add)
    with BuildSketch(Plane(origin=(0, 3, 0), x_dir=(1, 0, 0), z_dir=(0, 1, 0))):
        Polygon((-68.444378519, -21.205383243), (-76.322840543, -19.816197822), (-74.028007046, -6.80155033), (-66.149545022, -8.190735751), align=None)
    extrude(amount=BOSS_EXTRUDE18_DEPTH)

    # Sketch30 → Boss-Extrude19 (add)
    with BuildSketch(Plane(origin=(0, 39.5, 0), x_dir=(1, 0, 0), z_dir=(0, 1, 0))):
        Polygon((-80.520683062, -57.80155033), (-48.020683062, -57.80155033), (-45.852521308, -45.505293994), (-72.513337908, -35.80155033), align=None)
    extrude(amount=BOSS_EXTRUDE19_DEPTH)

    # Sketch31 → Cut-Extrude10 (cut)
    with BuildSketch(Plane(origin=(0, 47.5, 0), x_dir=(1, 0, 0), z_dir=(0, 1, 0))):
        Polygon((-63.586258011, -39.050741692), (-66.322419157, -46.568282658), (-64.443033916, -47.252322944), (-61.706872769, -39.734781978), align=None)
    extrude(amount=-CUT_EXTRUDE10_DEPTH, mode=Mode.SUBTRACT)

    # Sketch32 → Boss-Extrude20 (add)
    with BuildSketch(Plane.XZ):
        Polygon((-83.020683062, 57.80155033), (-90.40674121, 56.499188997), (-81.414065193, 5.499188997), (-74.028007046, 6.80155033), align=None)
    extrude(amount=-BOSS_EXTRUDE20_DEPTH)

    # Boss-Extrude21: up to this face of the body (flat: up to its plane)
    boss_extrude21_end = Plane(part.part.faces().sort_by_distance((-78.082004598, 79.5, 29.590543714))[0])
    # Sketch33 → Boss-Extrude21 (add, up to the picked face)
    with BuildSketch(Plane(origin=(0, 39.5, 0), x_dir=(1, 0, 0), z_dir=(0, 1, 0)), mode=Mode.PRIVATE) as boss_extrude21_sk1:
        Polygon((-42.378219679, -25.80155033), (-46.317450691, -25.106957619), (-52.818963225, -42.969716497), (-45.852521308, -45.505293994), align=None)
    boss_extrude21_tool1 = split(extrude(boss_extrude21_sk1.sketch, amount=BOSS_EXTRUDE21_REACH, mode=Mode.PRIVATE), bisect_by=boss_extrude21_end, keep=Keep.BOTH, mode=Mode.PRIVATE)
    add(boss_extrude21_tool1.solids().sort_by(Axis((-47.069089, 39.5, 35.78787), (0, 1, 0)))[0])

    # Sketch34 → Cut-Extrude13 (cut)
    with BuildSketch(Plane(origin=(0, 33, 0), x_dir=(1, 0, 0), z_dir=(0, 1, 0)).offset(CUT_EXTRUDE13_START)):
        with BuildLine():
            Line((-45.5, -22.80155033), (-44, -22.80155033))
            ThreePointArc((-44, -22.80155033), (-42, -20.80155033), (-40, -22.80155033))
            Line((-40, -22.80155033), (-38.5, -22.80155033))
            ThreePointArc((-38.5, -22.80155033), (-42, -19.30155033), (-45.5, -22.80155033))
        make_face()
    extrude(amount=CUT_EXTRUDE13_DEPTH, mode=Mode.SUBTRACT)

    # Sketch35 → Cut-Extrude14 (cut)
    with BuildSketch(Plane(origin=(-34.713562845, 0, -47.779120295), x_dir=(-0.8090169943749456, 0, 0.5877852522924758), z_dir=(-0.5877852522924758, 0, -0.8090169943749457))):
        with Locations((2.803492824, 6)):
            Rectangle(SKETCH35_W, SKETCH35_H)
    extrude(amount=-CUT_EXTRUDE14_DEPTH, mode=Mode.SUBTRACT)

    # Sketch36 → Cut-Extrude15 (cut)
    with BuildSketch(Plane.XZ):
        Polygon((-41.431229652, -42.89844967), (-39.080088643, -39.662381693), (-30.180901705, -46.128019468), (-32.532042714, -49.364087445), align=None)
    extrude(amount=-CUT_EXTRUDE15_DEPTH, mode=Mode.SUBTRACT)

    # Sketch37 → Cut-Extrude17 (cut)
    with BuildSketch(Plane(origin=(0, 30, 0), x_dir=(1, 0, 0), z_dir=(0, 1, 0)).offset(CUT_EXTRUDE17_START)):
        with BuildLine():
            Line((-4.341716702, 66.137354239), (-1.902113033, 67.909830056))
            ThreePointArc((-1.902113033, 67.909830056), (0, 65.291796068), (1.902113033, 67.909830056))
            Line((1.902113033, 67.909830056), (4.341716702, 66.137354239))
            ThreePointArc((4.341716702, 66.137354239), (0, 62.799219986), (-4.341716702, 66.137354239))
        make_face()
    extrude(amount=CUT_EXTRUDE17_DEPTH, mode=Mode.SUBTRACT)

    # Sketch39 → Cut-Extrude18 (cut)
    with BuildSketch(Plane(origin=(0, 79.5, 0), x_dir=(1, 0, 0), z_dir=(0, 1, 0))):
        with Locations(Location((-73.866343148, -13.910577842, 0), (0, 0, 270))):
            Circle(SKETCH39_R)
        with Locations(Location((-76.46100145, -23.568100728, 0), (0, 0, 270))):
            Circle(SKETCH39_R)
    extrude(amount=-CUT_EXTRUDE18_DEPTH, mode=Mode.SUBTRACT)


solid = part.part
